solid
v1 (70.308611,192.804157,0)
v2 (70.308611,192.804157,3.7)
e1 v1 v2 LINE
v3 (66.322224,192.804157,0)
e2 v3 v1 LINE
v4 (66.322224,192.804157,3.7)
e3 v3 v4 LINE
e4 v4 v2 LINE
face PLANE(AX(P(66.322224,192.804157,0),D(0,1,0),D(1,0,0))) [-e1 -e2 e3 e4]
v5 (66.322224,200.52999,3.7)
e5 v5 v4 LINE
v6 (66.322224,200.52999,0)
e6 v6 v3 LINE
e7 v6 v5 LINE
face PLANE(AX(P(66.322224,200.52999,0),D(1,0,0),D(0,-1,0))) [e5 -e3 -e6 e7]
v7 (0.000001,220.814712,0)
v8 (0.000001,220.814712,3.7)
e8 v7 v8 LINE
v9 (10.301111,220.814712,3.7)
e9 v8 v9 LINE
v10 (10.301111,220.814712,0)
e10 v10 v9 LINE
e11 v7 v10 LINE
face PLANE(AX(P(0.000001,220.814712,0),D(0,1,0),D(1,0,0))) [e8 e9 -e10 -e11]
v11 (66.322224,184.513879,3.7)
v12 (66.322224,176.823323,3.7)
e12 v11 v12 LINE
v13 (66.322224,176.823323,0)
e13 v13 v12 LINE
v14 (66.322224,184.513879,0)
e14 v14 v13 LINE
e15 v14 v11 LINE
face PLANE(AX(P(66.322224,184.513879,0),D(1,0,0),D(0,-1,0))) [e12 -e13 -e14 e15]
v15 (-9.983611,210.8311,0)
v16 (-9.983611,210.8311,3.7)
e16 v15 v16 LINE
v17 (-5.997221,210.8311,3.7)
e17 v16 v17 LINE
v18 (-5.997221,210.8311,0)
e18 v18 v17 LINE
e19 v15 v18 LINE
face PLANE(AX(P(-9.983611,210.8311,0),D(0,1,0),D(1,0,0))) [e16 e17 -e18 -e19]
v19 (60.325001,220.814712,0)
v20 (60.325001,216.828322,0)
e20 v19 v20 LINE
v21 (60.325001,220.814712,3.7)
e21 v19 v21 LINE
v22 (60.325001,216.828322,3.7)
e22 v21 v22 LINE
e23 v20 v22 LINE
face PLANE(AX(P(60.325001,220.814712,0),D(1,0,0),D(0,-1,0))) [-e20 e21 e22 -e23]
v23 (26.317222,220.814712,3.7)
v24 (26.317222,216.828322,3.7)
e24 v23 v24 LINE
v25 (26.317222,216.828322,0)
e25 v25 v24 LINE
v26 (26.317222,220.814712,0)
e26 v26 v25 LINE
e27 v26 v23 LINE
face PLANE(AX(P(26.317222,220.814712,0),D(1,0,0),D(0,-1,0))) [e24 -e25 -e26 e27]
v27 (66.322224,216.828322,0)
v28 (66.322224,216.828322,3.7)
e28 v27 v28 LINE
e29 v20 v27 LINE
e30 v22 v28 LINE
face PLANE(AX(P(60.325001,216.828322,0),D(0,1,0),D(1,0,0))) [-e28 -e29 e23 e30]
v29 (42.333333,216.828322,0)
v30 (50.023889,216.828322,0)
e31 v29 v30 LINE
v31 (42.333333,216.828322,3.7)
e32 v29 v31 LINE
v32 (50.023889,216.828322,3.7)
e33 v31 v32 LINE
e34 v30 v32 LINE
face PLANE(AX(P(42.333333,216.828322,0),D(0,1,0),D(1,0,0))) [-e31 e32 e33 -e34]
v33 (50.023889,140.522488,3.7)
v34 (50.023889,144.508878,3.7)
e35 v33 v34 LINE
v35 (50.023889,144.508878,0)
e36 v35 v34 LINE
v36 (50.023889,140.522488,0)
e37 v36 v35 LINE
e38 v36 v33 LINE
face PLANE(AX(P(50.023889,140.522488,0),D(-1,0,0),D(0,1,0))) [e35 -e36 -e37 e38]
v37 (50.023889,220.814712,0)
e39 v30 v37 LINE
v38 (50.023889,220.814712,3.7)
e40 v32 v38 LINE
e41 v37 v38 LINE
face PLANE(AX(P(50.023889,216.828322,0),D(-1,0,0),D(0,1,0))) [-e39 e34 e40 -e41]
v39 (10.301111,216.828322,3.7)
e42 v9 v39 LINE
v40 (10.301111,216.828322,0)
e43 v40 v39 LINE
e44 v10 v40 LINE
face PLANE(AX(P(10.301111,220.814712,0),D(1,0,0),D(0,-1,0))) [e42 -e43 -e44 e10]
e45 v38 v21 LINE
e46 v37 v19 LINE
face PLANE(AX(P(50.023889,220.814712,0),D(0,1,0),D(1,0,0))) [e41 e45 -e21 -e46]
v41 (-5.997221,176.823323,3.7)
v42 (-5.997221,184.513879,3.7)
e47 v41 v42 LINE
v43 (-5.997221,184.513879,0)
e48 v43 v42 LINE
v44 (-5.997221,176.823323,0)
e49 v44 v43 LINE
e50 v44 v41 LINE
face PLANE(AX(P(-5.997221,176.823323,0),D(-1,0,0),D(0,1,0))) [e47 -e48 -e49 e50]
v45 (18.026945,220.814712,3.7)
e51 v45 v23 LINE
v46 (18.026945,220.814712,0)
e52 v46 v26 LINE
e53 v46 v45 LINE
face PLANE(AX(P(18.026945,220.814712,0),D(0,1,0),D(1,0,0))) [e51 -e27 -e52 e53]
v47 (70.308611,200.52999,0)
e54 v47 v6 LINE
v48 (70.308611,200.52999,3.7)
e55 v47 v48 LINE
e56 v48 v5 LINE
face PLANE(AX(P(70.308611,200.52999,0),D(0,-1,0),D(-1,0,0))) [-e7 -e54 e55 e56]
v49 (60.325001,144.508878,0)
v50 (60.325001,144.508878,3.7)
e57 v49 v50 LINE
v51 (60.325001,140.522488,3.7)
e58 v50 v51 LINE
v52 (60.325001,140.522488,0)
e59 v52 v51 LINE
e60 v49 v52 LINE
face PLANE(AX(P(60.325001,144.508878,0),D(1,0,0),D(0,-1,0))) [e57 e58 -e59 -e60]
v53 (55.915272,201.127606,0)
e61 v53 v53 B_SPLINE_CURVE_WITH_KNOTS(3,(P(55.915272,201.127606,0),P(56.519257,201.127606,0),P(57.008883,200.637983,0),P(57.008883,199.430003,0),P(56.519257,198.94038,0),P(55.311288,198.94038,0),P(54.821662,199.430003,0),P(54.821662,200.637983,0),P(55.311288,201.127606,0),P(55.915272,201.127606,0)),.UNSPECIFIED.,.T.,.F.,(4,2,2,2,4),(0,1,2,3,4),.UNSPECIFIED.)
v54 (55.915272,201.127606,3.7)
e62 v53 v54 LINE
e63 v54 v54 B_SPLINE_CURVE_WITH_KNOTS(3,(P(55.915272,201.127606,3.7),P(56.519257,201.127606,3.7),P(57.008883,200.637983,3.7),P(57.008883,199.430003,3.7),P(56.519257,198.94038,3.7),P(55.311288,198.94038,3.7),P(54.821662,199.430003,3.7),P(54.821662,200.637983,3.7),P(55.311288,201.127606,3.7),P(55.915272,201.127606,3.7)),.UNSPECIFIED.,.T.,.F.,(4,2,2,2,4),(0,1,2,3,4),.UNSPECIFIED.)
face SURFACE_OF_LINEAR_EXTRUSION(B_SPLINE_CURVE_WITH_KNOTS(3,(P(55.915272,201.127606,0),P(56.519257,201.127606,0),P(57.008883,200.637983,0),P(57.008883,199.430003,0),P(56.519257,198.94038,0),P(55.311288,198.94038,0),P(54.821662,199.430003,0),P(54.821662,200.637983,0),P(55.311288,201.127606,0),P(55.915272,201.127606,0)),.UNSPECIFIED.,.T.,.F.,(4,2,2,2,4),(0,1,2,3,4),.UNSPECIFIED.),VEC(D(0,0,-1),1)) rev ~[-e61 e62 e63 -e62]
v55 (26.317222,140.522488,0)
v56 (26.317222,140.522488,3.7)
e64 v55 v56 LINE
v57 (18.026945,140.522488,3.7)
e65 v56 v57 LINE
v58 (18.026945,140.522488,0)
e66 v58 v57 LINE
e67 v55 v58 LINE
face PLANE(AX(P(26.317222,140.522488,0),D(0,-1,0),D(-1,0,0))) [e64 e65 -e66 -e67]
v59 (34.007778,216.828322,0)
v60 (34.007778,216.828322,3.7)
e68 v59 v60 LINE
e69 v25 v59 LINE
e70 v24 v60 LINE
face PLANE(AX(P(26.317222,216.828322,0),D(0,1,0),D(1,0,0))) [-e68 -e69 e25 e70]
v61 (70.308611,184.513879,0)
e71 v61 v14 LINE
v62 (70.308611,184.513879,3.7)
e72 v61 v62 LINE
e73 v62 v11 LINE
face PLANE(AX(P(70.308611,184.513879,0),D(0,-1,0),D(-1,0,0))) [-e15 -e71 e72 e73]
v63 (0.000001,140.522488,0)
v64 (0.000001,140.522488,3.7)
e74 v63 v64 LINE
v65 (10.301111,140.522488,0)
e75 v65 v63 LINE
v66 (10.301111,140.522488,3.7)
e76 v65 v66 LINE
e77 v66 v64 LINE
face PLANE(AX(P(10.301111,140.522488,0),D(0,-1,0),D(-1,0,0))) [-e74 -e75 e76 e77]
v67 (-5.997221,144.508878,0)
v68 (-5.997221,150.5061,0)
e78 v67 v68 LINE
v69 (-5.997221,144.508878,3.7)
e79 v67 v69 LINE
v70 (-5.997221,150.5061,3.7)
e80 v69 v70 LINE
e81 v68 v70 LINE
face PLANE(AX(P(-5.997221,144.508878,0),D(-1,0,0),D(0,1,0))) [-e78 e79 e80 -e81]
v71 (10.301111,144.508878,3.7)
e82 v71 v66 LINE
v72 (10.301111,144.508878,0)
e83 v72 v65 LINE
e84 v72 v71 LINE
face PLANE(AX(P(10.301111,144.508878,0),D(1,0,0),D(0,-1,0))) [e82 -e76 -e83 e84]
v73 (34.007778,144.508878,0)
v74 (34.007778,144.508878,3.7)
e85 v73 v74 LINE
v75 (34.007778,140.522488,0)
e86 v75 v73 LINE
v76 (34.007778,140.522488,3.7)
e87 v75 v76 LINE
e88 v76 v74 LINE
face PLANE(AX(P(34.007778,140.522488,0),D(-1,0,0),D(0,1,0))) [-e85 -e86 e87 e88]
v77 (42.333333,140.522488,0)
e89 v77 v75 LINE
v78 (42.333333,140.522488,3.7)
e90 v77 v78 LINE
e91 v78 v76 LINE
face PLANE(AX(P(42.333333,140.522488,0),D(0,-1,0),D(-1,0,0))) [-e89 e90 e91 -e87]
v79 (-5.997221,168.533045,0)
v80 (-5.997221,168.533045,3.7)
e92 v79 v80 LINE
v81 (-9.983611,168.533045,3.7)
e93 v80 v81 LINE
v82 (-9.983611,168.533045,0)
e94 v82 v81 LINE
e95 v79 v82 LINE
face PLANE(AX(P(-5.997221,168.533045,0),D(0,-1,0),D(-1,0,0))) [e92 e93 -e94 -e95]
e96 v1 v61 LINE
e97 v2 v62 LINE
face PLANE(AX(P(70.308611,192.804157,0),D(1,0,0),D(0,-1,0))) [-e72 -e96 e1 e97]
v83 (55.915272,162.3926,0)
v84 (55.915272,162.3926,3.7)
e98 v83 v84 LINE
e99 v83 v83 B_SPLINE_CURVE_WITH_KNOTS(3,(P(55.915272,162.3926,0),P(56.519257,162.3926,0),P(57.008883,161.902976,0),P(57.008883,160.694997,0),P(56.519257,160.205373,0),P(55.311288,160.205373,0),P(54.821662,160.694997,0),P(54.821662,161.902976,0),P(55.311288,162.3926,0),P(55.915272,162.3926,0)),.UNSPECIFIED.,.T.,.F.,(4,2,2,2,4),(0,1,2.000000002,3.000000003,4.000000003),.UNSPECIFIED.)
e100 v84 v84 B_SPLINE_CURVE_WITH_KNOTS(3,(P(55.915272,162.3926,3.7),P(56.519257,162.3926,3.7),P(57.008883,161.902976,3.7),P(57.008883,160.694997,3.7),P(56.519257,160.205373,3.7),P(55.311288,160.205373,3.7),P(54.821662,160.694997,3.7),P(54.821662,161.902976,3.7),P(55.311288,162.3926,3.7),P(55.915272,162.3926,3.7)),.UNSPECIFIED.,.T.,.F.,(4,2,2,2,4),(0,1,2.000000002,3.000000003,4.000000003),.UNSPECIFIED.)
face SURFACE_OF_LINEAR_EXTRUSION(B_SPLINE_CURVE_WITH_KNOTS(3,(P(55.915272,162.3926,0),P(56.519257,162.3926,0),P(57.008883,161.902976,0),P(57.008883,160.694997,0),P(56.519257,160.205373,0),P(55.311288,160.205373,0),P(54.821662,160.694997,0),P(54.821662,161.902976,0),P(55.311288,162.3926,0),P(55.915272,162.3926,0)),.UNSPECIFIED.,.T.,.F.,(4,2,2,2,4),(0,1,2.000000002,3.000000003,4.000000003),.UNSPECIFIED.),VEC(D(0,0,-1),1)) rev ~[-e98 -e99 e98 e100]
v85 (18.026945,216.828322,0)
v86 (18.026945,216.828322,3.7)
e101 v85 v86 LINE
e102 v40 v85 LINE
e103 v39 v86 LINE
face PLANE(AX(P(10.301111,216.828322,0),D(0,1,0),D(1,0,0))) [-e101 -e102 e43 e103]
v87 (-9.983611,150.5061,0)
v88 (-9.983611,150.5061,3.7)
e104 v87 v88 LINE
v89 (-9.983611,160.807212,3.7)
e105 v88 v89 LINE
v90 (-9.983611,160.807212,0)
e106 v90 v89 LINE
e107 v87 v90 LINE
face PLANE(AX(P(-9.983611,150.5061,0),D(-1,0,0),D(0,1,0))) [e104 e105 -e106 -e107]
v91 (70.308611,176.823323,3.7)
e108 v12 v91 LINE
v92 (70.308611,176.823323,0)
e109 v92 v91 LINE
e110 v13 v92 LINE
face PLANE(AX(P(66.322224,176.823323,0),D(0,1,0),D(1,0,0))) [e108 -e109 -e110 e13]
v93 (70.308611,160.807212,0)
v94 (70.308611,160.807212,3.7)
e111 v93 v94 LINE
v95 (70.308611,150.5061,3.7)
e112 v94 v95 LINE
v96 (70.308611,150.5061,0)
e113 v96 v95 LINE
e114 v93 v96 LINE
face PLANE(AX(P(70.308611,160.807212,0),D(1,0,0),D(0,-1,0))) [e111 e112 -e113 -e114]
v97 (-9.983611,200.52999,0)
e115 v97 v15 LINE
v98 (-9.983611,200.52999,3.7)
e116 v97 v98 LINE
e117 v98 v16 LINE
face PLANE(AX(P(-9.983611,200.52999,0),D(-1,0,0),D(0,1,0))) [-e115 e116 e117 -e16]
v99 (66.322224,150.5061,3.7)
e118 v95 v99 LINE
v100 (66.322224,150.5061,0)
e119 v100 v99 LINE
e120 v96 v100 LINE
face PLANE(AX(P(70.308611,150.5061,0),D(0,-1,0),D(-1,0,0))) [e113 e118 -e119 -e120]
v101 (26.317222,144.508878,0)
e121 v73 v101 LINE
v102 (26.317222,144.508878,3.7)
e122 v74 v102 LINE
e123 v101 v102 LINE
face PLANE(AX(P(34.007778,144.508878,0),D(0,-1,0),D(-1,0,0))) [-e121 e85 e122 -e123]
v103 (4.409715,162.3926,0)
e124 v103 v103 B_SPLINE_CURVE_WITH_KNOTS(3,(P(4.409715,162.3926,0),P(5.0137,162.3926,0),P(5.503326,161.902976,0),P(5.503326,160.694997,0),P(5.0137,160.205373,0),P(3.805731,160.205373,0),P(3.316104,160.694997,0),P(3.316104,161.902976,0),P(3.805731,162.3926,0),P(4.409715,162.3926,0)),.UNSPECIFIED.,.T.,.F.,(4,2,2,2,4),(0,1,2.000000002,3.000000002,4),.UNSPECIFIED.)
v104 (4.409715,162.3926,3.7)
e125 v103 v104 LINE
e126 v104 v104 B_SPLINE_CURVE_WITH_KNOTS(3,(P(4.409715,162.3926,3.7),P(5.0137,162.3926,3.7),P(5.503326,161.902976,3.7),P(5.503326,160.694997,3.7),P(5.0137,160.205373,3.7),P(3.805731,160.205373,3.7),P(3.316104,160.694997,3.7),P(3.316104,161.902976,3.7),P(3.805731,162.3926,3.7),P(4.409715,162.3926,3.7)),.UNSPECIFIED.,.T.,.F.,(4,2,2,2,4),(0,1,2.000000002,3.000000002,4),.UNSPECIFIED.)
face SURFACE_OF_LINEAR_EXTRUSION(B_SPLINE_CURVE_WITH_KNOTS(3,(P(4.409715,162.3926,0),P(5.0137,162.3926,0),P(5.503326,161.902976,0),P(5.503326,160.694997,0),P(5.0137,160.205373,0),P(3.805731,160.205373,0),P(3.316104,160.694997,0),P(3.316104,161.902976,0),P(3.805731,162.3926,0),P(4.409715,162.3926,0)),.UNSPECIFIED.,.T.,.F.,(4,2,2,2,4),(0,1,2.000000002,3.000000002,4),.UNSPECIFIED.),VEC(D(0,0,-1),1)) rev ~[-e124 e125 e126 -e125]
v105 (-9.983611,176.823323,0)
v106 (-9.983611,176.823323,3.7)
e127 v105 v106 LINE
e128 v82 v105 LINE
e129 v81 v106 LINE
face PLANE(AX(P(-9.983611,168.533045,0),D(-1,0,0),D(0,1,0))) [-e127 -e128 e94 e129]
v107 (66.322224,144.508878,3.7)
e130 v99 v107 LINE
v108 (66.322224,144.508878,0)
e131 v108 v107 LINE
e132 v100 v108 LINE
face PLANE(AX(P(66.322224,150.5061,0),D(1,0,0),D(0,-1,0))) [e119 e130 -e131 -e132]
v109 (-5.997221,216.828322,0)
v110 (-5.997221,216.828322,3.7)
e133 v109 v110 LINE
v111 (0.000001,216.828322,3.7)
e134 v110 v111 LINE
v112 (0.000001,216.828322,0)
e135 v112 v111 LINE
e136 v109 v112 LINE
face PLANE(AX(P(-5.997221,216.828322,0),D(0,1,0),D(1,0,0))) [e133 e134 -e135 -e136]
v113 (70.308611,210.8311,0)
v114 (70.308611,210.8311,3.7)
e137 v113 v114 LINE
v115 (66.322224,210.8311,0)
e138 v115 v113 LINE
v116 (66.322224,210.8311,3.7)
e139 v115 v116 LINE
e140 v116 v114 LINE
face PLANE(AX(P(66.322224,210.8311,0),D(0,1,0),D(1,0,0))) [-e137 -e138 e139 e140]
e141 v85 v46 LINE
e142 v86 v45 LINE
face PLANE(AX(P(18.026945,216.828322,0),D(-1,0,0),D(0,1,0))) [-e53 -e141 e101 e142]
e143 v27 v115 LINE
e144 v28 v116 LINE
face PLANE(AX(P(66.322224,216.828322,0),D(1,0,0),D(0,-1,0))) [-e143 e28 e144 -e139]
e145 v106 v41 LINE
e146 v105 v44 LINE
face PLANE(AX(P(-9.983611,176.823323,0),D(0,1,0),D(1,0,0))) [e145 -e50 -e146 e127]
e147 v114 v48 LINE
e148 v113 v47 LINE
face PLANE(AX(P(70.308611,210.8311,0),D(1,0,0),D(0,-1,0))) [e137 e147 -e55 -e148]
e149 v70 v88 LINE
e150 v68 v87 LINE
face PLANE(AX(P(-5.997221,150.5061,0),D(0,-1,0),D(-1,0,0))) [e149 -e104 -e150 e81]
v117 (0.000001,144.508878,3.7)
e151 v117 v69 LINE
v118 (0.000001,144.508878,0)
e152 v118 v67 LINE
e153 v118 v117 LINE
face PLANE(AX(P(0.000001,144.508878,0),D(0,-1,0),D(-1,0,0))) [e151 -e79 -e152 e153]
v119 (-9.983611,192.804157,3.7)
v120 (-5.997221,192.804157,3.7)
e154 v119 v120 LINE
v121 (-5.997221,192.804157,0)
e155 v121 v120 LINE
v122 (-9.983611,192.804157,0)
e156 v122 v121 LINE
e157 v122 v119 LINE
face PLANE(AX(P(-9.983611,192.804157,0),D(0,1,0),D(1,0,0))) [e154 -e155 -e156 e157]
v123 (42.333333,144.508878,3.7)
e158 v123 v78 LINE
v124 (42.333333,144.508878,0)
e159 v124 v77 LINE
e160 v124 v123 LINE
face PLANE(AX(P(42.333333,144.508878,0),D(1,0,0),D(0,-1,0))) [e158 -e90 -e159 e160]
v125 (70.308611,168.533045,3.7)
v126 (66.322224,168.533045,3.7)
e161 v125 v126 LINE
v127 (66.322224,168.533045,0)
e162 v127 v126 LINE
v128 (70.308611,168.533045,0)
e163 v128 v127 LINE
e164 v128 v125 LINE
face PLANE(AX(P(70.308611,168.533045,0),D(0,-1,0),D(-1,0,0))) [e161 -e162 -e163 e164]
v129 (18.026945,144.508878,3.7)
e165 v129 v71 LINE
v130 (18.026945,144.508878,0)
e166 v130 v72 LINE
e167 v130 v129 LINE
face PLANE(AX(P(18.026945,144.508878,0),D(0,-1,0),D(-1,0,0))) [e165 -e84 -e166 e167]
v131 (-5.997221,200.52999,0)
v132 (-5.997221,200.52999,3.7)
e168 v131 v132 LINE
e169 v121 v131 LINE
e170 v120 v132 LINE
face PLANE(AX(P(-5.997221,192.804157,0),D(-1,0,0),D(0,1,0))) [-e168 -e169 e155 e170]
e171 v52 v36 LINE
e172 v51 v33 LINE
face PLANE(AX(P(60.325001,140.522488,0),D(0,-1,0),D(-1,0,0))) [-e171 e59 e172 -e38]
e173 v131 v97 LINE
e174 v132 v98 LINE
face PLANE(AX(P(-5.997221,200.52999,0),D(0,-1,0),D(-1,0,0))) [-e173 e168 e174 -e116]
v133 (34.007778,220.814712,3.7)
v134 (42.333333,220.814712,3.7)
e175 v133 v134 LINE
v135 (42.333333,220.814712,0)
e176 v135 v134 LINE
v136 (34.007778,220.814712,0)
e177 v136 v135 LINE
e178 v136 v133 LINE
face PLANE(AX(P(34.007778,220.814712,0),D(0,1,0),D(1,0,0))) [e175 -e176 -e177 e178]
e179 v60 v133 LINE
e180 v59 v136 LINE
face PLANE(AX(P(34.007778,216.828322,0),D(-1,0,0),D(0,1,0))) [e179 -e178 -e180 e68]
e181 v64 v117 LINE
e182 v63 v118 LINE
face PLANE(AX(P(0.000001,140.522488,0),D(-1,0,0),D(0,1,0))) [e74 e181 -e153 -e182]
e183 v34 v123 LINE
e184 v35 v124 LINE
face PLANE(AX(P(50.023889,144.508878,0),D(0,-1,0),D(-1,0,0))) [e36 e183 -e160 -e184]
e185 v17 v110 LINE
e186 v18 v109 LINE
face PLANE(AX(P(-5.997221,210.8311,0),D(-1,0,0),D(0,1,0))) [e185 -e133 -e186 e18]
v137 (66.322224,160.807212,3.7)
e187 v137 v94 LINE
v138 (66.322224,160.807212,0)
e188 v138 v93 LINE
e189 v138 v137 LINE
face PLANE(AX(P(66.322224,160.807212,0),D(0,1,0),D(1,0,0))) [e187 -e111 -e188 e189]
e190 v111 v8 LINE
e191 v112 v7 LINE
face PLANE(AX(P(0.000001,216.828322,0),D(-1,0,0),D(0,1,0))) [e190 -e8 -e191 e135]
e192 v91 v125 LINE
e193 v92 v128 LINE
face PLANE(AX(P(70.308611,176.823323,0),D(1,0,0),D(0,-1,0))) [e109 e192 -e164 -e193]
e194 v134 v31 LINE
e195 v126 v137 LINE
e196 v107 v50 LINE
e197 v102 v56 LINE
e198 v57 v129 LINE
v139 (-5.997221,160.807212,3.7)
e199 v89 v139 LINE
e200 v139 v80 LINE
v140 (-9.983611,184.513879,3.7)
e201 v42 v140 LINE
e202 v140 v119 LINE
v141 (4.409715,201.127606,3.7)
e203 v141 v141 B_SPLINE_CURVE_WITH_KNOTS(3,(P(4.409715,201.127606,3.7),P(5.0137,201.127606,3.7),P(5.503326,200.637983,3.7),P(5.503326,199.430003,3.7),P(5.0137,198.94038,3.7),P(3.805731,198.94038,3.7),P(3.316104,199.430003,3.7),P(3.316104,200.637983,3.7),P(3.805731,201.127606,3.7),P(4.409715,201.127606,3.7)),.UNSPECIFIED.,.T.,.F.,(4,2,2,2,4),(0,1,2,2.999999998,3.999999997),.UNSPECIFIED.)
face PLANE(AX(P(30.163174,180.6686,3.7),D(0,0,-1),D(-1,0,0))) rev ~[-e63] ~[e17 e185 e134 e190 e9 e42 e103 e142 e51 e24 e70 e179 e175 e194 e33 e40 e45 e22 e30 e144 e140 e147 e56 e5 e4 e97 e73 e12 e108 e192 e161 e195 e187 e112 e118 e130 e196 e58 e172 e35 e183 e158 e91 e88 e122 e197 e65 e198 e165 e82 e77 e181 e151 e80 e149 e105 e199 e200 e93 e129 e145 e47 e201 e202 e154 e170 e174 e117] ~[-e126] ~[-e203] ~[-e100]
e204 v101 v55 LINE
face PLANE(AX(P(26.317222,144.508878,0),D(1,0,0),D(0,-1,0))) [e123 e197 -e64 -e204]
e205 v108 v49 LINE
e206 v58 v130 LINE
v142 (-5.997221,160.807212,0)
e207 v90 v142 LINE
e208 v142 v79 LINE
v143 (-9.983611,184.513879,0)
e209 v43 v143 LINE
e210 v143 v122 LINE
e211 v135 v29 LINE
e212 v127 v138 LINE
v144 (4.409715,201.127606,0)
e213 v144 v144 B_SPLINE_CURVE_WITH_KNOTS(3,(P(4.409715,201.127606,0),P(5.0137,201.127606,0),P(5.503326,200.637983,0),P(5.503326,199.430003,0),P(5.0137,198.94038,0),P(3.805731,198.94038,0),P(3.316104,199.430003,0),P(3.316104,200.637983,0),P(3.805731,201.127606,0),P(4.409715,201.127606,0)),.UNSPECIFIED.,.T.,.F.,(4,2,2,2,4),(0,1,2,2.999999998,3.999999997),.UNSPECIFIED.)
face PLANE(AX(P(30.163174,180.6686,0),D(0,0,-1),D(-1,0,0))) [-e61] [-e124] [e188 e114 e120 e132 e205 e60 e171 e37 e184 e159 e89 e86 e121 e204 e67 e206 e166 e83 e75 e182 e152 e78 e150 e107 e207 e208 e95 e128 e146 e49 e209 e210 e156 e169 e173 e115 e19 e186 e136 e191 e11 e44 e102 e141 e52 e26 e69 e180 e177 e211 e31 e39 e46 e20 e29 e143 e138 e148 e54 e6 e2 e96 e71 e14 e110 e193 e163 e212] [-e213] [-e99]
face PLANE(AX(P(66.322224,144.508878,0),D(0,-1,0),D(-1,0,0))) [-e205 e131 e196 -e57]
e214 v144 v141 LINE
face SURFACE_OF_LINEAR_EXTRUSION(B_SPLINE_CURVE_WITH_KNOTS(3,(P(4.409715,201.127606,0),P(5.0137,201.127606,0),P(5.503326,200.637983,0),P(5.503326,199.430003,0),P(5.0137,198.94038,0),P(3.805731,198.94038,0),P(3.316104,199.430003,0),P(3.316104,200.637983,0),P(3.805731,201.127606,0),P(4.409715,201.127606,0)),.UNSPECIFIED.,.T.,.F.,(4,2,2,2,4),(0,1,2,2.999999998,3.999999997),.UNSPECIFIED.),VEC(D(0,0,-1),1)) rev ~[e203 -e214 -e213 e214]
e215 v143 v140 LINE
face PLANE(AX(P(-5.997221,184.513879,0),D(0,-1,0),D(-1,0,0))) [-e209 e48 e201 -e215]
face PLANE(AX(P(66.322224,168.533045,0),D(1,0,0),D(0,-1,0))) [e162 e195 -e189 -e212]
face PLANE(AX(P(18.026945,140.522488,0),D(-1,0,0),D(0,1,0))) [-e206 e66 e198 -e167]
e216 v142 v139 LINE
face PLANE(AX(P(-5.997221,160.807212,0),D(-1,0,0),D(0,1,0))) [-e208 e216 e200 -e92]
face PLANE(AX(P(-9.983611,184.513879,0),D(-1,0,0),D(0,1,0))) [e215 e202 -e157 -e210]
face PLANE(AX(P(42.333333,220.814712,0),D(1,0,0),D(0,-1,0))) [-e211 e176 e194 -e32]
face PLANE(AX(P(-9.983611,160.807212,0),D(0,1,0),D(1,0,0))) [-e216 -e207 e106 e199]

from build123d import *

# Parameters (mm, degrees)
BOSS_EXTRUDE1_DEPTH = 3.7


with BuildPart() as part:
    # Model → Boss-Extrude1 (new body)
    with BuildSketch(Plane.XY):
        Polygon((-5.997220875, 216.82832197), (1.346e-06, 216.82832197), (1.346e-06, 220.814711934), (10.301111378, 220.814711934), (10.301111378, 216.82832197), (18.026945247, 216.82832197), (18.026945247, 220.814711934), (26.31722235, 220.814711934), (26.31722235, 216.82832197), (34.007778034, 216.82832197), (34.007778034, 220.814711934), (42.333333323, 220.814711934), (42.333333323, 216.82832197), (50.023888607, 216.82832197), (50.023888607, 220.814711934), (60.325001331, 220.814711934), (60.325001331, 216.82832197), (66.322223551, 216.82832197), (66.322223551, 210.831099749), (70.308610824, 210.831099749), (70.308610824, 200.529989717), (66.322223551, 200.529989717), (66.322223551, 192.80415652), (70.308610824, 192.80415652), (70.308610824, 184.513878576), (66.322223551, 184.513878576), (66.322223551, 176.823322787), (70.308610824, 176.823322787), (70.308610824, 168.533045011), (66.322223551, 168.533045011), (66.322223551, 160.807212487), (70.308610824, 160.807212487), (70.308610824, 150.506099764), (66.322223551, 150.506099764), (66.322223551, 144.508877543), (60.325001331, 144.508877543), (60.325001331, 140.522487579), (50.023888607, 140.522487579), (50.023888607, 144.508877543), (42.333333323, 144.508877543), (42.333333323, 140.522487579), (34.007778034, 140.522487579), (34.007778034, 144.508877543), (26.31722235, 144.508877543), (26.31722235, 140.522487579), (18.026945247, 140.522487579), (18.026945247, 144.508877543), (10.301111378, 144.508877543), (10.301111378, 140.522487579), (1.346e-06, 140.522487579), (1.346e-06, 144.508877543), (-5.997220875, 144.508877543), (-5.997220875, 150.506099764), (-9.983610839, 150.506099764), (-9.983610839, 160.807212487), (-5.997220875, 160.807212487), (-5.997220875, 168.533045011), (-9.983610839, 168.533045011), (-9.983610839, 176.823322787), (-5.997220875, 176.823322787), (-5.997220875, 184.513878576), (-9.983610839, 184.513878576), (-9.983610839, 192.80415652), (-5.997220875, 192.80415652), (-5.997220875, 200.529989717), (-9.983610839, 200.529989717), (-9.983610839, 210.831099749), (-5.997220875, 210.831099749), align=None)
        with BuildLine():
            add(Edge.make_bspline(
                [(4.409715492, 198.940379596), (3.805731041, 198.940379596), (3.316103574, 199.430003026), (3.316103574, 200.03399286), (3.316103574, 200.637982694), (3.805731041, 201.127606124), (4.409715492, 201.127606124)],
                knots=[2, 2, 2, 2, 3, 3, 3, 4, 4, 4, 4], degree=3))
            add(Edge.make_bspline(
                [(4.409715492, 201.127606124), (5.013699944, 201.127606124), (5.503326065, 200.637982694), (5.503326065, 200.03399286), (5.503326065, 199.430003026), (5.013699944, 198.940379596), (4.409715492, 198.940379596)],
                knots=[0, 0, 0, 0, 1, 1, 1, 2, 2, 2, 2], degree=3))
        make_face(mode=Mode.SUBTRACT)
        with BuildLine():
            add(Edge.make_bspline(
                [(55.915272381, 160.205373146), (55.31128793, 160.205373146), (54.821661808, 160.694996576), (54.821661808, 161.298986411), (54.821661808, 161.902976245), (55.31128793, 162.392599675), (55.915272381, 162.392599675)],
                knots=[2, 2, 2, 2, 3, 3, 3, 4, 4, 4, 4], degree=3))
            add(Edge.make_bspline(
                [(55.915272381, 162.392599675), (56.519256832, 162.392599675), (57.008882953, 161.902976245), (57.008882953, 161.298986411), (57.008882953, 160.694996576), (56.519256832, 160.205373146), (55.915272381, 160.205373146)],
                knots=[0, 0, 0, 0, 1, 1, 1, 2, 2, 2, 2], degree=3))
        make_face(mode=Mode.SUBTRACT)
        with BuildLine():
            add(Edge.make_bspline(
                [(4.409715492, 160.205373146), (3.805731041, 160.205373146), (3.316103574, 160.694996576), (3.316103574, 161.298986411), (3.316103574, 161.902976245), (3.805731041, 162.392599675), (4.409715492, 162.392599675)],
                knots=[2, 2, 2, 2, 3, 3, 3, 4, 4, 4, 4], degree=3))
            add(Edge.make_bspline(
                [(4.409715492, 162.392599675), (5.013699944, 162.392599675), (5.503326065, 161.902976245), (5.503326065, 161.298986411), (5.503326065, 160.694996576), (5.013699944, 160.205373146), (4.409715492, 160.205373146)],
                knots=[0, 0, 0, 0, 1, 1, 1, 2, 2, 2, 2], degree=3))
        make_face(mode=Mode.SUBTRACT)
        with BuildLine():
            add(Edge.make_bspline(
                [(55.915272381, 198.940379596), (55.31128793, 198.940379596), (54.821661808, 199.430003026), (54.821661808, 200.03399286), (54.821661808, 200.637982694), (55.31128793, 201.127606124), (55.915272381, 201.127606124)],
                knots=[2, 2, 2, 2, 3, 3, 3, 4, 4, 4, 4], degree=3))
            add(Edge.make_bspline(
                [(55.915272381, 201.127606124), (56.519256832, 201.127606124), (57.008882953, 200.637982694), (57.008882953, 200.03399286), (57.008882953, 199.430003026), (56.519256832, 198.940379596), (55.915272381, 198.940379596)],
                knots=[0, 0, 0, 0, 1, 1, 1, 2, 2, 2, 2], degree=3))
        make_face(mode=Mode.SUBTRACT)
    extrude(amount=BOSS_EXTRUDE1_DEPTH)


solid = part.part
